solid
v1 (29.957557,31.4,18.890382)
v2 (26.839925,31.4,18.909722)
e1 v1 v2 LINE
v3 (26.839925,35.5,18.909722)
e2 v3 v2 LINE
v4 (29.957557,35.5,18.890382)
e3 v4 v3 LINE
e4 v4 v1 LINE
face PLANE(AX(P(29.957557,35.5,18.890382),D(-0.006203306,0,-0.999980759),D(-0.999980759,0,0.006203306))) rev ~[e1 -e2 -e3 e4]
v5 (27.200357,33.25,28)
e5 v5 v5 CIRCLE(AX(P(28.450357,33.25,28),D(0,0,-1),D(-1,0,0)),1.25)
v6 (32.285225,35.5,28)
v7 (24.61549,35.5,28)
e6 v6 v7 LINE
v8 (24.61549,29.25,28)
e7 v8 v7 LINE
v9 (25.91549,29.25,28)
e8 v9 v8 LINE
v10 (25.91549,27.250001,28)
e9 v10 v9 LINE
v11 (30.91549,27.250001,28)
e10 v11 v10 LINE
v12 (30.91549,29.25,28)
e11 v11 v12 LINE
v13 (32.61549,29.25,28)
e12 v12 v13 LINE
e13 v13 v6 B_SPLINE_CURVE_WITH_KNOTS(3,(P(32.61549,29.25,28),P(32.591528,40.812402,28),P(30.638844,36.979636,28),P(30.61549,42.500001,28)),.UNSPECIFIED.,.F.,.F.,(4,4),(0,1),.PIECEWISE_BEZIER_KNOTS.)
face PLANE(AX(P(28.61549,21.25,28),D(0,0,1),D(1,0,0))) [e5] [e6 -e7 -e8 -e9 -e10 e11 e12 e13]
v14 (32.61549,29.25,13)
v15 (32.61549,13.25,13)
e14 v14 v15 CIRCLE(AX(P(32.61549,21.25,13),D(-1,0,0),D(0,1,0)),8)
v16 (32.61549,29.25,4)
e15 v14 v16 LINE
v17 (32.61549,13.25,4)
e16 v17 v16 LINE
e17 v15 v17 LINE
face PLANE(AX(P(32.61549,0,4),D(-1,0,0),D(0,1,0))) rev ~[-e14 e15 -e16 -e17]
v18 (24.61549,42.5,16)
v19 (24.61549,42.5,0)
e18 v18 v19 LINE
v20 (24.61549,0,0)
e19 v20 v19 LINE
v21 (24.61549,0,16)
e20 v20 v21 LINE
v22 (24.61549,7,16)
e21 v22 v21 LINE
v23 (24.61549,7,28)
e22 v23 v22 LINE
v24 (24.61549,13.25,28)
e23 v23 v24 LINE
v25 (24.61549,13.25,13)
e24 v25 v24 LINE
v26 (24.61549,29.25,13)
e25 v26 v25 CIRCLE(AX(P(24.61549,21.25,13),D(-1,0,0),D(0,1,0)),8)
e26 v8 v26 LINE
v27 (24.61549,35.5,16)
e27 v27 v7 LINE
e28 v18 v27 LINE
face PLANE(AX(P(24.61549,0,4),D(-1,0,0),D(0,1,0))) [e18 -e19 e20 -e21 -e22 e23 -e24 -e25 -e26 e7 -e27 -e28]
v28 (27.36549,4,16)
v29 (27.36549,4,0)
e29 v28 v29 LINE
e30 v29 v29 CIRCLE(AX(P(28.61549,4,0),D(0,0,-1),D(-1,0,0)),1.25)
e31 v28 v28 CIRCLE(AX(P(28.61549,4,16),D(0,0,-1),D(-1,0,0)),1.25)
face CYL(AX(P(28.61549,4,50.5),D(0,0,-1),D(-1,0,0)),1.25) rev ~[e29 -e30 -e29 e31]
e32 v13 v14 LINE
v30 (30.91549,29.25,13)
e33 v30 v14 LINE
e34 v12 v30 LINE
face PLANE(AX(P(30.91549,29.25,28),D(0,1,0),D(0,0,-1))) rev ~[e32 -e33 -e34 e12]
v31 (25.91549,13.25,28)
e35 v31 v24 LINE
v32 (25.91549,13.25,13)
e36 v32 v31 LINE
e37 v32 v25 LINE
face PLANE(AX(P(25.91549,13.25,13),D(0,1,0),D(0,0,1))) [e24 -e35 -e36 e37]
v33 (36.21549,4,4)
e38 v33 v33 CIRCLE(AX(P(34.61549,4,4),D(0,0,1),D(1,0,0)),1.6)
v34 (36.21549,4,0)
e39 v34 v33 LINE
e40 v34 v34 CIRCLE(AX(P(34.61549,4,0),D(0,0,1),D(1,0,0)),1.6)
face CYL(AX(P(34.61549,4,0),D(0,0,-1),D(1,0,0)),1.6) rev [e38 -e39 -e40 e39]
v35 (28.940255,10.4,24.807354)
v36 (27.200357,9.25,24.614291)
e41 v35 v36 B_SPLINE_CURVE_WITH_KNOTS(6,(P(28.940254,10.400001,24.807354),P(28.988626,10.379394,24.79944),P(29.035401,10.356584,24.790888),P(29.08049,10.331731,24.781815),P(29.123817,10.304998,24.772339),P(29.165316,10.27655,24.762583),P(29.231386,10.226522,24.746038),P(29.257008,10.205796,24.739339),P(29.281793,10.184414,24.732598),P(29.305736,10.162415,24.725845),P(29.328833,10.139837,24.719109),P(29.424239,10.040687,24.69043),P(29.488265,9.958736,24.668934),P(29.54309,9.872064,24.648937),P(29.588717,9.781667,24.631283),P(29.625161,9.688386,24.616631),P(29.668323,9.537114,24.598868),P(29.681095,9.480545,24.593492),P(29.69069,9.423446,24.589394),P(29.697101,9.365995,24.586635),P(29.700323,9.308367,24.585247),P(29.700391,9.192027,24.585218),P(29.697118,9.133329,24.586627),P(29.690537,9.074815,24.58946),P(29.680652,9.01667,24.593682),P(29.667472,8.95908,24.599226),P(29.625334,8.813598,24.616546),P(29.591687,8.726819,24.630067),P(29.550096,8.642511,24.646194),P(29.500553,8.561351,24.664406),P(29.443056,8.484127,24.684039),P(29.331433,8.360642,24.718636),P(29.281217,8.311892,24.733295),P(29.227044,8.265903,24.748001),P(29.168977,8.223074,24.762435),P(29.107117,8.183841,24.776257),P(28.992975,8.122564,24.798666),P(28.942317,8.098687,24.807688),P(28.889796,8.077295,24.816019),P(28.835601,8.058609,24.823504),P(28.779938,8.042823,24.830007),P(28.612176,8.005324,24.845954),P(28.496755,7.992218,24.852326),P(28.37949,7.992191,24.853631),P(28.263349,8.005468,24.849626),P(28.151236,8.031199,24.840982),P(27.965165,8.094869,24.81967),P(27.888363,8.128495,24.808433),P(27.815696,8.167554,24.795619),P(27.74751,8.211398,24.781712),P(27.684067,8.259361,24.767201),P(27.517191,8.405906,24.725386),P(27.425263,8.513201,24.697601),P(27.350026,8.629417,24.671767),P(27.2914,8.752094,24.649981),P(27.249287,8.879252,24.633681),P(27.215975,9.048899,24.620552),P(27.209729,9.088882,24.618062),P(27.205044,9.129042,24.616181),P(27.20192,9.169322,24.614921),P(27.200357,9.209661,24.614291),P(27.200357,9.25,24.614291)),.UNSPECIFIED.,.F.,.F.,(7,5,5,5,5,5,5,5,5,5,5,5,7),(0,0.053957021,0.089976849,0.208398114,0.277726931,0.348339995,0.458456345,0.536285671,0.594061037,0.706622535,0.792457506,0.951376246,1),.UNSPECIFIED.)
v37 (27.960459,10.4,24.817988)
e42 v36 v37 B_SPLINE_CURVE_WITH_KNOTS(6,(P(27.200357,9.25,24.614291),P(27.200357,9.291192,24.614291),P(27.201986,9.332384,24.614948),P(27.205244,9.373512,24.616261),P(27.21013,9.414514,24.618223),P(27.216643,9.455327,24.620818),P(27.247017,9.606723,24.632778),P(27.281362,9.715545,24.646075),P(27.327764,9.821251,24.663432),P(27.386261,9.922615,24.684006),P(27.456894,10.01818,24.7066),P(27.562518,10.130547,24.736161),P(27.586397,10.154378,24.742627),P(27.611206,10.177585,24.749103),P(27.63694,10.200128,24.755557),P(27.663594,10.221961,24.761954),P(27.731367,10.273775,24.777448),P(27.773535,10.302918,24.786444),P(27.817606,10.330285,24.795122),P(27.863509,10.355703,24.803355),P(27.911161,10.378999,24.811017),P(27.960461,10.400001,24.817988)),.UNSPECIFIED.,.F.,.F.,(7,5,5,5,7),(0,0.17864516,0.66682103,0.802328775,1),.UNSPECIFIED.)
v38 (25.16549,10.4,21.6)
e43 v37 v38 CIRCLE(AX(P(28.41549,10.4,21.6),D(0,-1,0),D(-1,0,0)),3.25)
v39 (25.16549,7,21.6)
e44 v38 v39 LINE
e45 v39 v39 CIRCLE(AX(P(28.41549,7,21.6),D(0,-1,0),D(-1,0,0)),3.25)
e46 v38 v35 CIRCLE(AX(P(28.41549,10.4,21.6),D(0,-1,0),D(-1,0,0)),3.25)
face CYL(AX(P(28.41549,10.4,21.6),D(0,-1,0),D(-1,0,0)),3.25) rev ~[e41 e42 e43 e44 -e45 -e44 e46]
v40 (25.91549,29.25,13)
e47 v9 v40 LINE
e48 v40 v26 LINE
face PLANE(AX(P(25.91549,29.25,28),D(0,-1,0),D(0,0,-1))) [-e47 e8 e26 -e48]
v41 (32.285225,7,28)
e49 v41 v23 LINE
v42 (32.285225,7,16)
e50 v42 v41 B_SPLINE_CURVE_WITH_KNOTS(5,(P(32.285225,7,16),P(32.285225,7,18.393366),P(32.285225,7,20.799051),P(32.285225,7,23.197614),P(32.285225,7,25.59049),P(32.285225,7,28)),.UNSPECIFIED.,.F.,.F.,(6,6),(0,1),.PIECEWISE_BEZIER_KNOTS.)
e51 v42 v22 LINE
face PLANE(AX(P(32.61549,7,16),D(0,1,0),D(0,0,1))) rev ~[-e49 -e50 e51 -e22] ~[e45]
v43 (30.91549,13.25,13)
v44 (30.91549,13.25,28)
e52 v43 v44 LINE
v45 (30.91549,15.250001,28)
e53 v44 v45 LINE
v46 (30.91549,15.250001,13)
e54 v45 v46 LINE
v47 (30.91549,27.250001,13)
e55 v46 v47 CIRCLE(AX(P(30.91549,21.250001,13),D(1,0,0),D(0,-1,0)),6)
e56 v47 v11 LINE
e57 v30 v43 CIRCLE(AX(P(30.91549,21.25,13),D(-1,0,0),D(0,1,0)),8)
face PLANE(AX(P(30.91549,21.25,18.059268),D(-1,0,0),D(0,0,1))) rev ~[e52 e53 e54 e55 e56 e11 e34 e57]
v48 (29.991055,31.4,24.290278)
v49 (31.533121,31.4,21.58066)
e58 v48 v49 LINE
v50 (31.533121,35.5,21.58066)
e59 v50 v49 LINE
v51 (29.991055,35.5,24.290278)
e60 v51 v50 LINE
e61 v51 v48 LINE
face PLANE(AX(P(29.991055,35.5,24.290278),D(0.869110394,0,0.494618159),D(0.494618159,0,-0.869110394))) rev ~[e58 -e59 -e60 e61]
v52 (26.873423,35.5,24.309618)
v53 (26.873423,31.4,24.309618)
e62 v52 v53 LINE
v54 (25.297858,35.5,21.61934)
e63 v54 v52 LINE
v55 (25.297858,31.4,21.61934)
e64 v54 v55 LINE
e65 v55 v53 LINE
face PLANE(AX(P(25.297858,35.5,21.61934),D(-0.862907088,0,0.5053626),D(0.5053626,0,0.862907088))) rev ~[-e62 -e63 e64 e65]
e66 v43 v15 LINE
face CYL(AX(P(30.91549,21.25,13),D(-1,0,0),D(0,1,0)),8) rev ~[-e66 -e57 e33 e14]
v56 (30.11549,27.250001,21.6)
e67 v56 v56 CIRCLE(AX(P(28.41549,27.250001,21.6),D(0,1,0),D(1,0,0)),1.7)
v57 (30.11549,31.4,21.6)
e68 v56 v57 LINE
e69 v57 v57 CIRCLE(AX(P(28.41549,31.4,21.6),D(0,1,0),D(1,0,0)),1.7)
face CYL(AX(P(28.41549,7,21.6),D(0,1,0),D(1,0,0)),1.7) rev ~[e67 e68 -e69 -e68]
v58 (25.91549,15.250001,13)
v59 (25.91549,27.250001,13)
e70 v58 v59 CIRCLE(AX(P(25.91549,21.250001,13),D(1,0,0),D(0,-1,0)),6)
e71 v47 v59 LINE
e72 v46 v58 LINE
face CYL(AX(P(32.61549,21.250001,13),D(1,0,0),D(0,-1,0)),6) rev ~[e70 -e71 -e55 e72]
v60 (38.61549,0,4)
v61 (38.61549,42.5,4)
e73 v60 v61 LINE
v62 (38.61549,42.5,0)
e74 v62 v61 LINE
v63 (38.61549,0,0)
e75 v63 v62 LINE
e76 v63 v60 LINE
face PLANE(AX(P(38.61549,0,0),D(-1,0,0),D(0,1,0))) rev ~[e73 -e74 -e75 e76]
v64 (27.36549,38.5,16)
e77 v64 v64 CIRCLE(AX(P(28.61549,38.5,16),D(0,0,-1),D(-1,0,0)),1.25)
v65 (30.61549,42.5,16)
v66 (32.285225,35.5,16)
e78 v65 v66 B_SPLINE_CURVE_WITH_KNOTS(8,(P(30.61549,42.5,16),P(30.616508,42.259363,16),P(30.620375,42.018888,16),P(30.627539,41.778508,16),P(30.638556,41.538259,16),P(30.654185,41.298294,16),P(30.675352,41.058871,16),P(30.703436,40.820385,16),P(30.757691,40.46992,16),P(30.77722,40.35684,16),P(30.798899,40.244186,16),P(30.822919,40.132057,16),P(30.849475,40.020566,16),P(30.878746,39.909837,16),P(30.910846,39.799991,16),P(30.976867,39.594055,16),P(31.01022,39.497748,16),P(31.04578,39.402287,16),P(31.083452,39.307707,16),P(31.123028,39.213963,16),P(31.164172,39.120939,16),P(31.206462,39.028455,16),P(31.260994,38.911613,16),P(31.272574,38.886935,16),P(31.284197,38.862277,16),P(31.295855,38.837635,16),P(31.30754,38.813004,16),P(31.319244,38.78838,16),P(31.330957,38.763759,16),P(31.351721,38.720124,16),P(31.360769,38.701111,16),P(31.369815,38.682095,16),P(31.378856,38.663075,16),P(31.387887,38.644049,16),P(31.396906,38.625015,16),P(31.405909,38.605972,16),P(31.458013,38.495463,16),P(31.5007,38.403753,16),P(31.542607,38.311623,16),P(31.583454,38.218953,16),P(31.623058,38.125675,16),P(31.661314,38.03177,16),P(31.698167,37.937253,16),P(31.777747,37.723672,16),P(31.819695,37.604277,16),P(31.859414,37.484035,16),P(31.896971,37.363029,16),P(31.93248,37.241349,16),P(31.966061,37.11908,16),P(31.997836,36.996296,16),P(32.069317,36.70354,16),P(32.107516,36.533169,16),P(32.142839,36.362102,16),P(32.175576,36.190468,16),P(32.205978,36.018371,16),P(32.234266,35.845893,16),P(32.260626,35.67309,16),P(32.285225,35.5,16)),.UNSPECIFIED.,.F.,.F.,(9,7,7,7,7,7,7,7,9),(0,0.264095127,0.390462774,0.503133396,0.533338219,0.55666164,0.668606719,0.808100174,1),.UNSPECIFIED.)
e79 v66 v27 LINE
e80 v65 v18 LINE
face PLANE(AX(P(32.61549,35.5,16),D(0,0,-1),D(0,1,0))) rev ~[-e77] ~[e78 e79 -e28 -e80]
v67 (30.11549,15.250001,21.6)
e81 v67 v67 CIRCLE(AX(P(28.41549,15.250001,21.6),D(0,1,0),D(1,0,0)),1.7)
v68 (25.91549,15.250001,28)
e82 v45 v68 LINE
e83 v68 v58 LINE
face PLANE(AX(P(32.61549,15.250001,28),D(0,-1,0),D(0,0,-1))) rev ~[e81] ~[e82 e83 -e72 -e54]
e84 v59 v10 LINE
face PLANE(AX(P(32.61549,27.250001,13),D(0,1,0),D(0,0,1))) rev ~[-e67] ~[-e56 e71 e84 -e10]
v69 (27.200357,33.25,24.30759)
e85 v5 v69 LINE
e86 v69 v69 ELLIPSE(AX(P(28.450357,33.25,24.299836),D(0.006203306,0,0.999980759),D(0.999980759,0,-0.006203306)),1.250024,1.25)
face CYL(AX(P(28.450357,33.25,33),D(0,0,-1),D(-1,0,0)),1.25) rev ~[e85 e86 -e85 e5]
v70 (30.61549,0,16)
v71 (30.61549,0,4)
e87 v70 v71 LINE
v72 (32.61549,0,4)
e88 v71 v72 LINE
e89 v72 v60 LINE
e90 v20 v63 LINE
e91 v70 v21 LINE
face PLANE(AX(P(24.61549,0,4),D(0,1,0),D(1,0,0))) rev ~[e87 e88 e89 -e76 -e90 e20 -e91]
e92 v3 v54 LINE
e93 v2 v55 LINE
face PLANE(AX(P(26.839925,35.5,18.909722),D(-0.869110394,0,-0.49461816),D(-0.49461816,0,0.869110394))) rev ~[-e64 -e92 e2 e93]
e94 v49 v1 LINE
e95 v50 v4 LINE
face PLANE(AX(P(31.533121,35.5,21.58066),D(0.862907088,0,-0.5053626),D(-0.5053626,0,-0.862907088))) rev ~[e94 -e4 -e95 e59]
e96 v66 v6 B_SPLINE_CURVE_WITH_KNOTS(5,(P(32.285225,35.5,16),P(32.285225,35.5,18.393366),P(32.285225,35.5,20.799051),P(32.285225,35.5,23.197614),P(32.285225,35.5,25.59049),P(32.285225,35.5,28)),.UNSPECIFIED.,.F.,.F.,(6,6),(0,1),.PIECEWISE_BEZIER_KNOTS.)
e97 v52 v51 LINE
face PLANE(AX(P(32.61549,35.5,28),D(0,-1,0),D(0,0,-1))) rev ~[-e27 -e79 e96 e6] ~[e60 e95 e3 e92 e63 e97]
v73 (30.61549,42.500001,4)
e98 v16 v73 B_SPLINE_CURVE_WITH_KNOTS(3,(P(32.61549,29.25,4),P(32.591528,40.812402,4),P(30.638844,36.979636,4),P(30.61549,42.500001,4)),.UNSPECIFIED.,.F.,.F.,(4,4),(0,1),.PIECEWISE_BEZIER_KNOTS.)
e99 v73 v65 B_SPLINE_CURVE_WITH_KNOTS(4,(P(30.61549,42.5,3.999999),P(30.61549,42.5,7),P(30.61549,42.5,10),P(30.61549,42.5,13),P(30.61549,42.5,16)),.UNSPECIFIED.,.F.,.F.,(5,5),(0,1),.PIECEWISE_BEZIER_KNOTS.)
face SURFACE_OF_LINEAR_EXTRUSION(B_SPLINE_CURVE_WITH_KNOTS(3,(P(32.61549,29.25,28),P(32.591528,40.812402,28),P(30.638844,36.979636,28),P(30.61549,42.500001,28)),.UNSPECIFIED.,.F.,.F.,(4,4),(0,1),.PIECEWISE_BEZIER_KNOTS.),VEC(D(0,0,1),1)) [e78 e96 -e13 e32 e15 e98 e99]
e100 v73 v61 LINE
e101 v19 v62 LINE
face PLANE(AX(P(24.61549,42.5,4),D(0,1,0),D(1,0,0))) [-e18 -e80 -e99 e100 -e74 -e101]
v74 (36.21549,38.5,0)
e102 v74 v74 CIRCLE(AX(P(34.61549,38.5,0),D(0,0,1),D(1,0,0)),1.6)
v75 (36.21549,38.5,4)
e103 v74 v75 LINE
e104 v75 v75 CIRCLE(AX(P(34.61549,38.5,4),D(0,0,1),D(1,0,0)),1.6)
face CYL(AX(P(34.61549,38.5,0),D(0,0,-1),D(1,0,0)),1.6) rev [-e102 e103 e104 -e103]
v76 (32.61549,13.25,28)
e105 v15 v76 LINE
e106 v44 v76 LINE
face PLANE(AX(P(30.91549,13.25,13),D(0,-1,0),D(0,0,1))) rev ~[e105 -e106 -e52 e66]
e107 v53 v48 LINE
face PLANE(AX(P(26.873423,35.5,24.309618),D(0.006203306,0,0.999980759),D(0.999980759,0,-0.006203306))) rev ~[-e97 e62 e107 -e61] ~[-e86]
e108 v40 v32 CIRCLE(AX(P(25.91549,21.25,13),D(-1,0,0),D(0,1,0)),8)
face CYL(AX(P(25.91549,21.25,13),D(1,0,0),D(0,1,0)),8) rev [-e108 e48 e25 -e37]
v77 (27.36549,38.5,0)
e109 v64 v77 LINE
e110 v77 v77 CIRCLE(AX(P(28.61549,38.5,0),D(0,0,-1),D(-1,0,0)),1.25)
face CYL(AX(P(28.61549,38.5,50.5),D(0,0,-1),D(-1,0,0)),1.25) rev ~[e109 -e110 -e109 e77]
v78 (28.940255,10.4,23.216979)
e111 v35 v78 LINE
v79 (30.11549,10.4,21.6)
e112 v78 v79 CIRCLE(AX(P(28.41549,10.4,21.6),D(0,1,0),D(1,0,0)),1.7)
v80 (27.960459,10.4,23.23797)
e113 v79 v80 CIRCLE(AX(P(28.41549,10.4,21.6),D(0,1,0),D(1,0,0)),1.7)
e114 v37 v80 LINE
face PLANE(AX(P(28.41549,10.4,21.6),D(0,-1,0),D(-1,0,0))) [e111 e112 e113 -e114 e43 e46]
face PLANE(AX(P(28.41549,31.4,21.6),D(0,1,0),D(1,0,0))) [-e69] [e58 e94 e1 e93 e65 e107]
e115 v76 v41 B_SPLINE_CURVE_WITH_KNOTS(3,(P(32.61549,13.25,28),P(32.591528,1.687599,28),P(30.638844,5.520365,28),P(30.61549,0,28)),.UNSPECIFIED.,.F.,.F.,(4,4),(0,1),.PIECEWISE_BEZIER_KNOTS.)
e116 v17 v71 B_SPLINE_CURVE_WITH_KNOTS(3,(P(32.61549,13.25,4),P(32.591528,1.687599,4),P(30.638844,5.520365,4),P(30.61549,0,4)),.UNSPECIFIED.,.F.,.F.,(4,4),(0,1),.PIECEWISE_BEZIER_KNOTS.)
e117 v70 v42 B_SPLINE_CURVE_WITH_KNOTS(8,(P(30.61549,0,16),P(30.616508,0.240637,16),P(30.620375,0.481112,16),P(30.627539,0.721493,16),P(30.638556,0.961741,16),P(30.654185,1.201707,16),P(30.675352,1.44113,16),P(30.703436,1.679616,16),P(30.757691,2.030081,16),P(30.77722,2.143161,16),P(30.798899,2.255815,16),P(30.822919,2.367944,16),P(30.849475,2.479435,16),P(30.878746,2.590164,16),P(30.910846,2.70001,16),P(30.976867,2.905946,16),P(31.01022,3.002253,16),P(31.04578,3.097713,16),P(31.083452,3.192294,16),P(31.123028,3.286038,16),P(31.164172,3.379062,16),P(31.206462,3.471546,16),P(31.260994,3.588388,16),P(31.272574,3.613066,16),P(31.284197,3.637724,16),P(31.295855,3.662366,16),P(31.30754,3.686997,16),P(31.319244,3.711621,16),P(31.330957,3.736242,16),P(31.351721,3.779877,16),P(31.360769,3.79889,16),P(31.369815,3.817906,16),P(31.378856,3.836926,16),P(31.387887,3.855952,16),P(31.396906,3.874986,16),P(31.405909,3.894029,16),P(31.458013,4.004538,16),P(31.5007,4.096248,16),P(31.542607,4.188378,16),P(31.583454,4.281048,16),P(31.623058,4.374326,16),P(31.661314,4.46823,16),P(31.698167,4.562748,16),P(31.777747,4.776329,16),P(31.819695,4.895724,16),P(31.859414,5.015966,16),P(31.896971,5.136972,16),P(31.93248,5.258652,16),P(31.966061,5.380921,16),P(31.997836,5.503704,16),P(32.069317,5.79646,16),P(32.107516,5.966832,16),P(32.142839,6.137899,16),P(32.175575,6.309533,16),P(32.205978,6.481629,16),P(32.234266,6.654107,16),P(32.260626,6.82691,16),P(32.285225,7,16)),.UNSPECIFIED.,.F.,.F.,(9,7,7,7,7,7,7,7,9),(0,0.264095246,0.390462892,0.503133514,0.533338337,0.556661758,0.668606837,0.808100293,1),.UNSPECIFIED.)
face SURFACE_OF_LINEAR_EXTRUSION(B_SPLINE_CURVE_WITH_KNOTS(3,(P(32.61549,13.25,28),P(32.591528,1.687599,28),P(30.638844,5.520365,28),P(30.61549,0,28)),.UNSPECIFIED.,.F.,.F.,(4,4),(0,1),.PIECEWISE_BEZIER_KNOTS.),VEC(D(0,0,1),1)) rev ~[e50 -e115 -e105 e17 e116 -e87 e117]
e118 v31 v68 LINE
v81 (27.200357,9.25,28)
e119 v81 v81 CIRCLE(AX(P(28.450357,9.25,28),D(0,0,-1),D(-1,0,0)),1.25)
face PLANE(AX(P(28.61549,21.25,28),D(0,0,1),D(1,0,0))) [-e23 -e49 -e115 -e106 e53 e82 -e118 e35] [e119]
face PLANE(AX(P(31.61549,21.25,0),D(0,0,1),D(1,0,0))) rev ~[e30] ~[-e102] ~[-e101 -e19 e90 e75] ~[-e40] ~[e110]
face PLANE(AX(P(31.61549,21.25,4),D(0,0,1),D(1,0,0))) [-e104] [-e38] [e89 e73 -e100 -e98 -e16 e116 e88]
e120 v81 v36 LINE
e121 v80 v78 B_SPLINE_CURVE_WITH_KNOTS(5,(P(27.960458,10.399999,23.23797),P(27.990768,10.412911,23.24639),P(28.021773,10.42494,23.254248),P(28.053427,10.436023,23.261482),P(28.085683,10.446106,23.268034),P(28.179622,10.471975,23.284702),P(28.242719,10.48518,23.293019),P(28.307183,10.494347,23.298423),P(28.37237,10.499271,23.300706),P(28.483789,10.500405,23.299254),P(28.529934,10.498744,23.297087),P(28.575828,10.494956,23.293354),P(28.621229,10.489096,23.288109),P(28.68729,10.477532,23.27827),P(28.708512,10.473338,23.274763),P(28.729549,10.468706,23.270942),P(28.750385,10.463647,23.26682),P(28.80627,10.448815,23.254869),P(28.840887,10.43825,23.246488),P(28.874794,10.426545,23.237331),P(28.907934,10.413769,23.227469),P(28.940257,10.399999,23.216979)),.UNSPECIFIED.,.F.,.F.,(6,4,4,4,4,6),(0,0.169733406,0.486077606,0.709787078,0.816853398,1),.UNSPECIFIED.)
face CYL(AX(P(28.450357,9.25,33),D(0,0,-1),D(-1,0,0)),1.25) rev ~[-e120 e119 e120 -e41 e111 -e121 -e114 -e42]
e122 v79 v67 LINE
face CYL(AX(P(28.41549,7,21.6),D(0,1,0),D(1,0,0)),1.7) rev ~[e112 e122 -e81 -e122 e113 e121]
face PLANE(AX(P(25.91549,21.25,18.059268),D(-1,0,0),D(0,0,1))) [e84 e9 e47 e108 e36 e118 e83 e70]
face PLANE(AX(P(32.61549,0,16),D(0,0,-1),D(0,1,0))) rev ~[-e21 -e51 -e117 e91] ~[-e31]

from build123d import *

# Parameters (mm, degrees)
ESQUISSE1_W                                        = 14
ESQUISSE1_H                                        = 42.5
ESQUISSE1_R                                        = 1.6
BOSS_EXTRU_1_DEPTH                                 = 4
ESQUISSE2_W                                        = 8
ESQUISSE2_H                                        = 42.5
BOSS_EXTRU_2_DEPTH                                 = 24
ENL_V_MAT_EXTRU_1_DEPTH                            = 9
ENL_V_START                                        = -1.7
ENL_V_MAT_EXTRU_3_DEPTH                            = 1.7
ENL_V_START_2                                      = -1.3
ENL_V_MAT_EXTRU_4_DEPTH                            = 1.3
ESQUISSE6_W                                        = 12
ESQUISSE6_H                                        = 7
ENL_V_MAT_EXTRU_2_DEPTH                            = 9
CHAMBRAGE_POUR_VIS_T_TE_HEXAGONALE_M31_D           = 3.4
CHAMBRAGE_POUR_VIS_T_TE_HEXAGONALE_M31_DEPTH       = 30
CHAMBRAGE_POUR_VIS_T_TE_HEXAGONALE_M31_CBORE_D     = 6.5
CHAMBRAGE_POUR_VIS_T_TE_HEXAGONALE_M31_CBORE_DEPTH = 3.4
CHAMBRAGE_POUR_VIS_T_TE_HEXAGONALE_M31_TIP         = 1.021463052
TROU_POUR_TARAUDAGE_POUR_TROU_TARAUD_M3_D          = 2.5
TROU_POUR_TARAUDAGE_POUR_TROU_TARAUD_M3_DEPTH      = 34.5
ENL_V_MAT_EXTRU_5_DEPTH                            = 4.1
ENL_V_MAT_EXTRU_6_DEPTH                            = 24
TROU_POUR_TARAUDAGE_POUR_TROU_TARAUD_2_D           = 2.5
TROU_POUR_TARAUDAGE_POUR_TROU_TARAUD_2_DEPTH       = 5


with BuildPart() as part:
    # Esquisse1 → Boss.-Extru.1 (new body)
    with BuildSketch(Plane.XY):
        with Locations((31.615489842, 21.249999998)):
            Rectangle(ESQUISSE1_W, ESQUISSE1_H)
        with Locations((34.615489842, 3.999999998)):
            Circle(ESQUISSE1_R, mode=Mode.SUBTRACT)
        with Locations((34.615489842, 38.499999998)):
            Circle(ESQUISSE1_R, mode=Mode.SUBTRACT)
    extrude(amount=BOSS_EXTRU_1_DEPTH)

    # Esquisse2 → Boss.-Extru.2 (add)
    with BuildSketch(Plane.XY.offset(4)):
        with Locations((28.615489842, 21.249999998)):
            Rectangle(ESQUISSE2_W, ESQUISSE2_H)
    extrude(amount=BOSS_EXTRU_2_DEPTH)

    # Esquisse3 → Enlèv. mat.-Extru.1 (cut, through all)
    with BuildSketch(Plane(origin=(32.615489842, 0, 0), x_dir=(0, 0, -1), z_dir=(1, 0, 0))):
        with BuildLine():
            Line((-13, 27.250000778), (-28, 27.250000778))
            Line((-28, 27.250000778), (-28, 15.250000778))
            Line((-28, 15.250000778), (-13, 15.250000778))
            ThreePointArc((-13, 15.250000778), (-7, 21.250000778), (-13, 27.250000778))
        make_face()
    extrude(amount=-ENL_V_MAT_EXTRU_1_DEPTH, mode=Mode.SUBTRACT)

    # Esquisse7 → Enlèv. mat.-Extru.3 (cut)
    with BuildSketch(Plane(origin=(32.615489842, 0, 0), x_dir=(0, 0, -1), z_dir=(1, 0, 0)).offset(ENL_V_START)):
        with BuildLine():
            Line((-13, 13.250000429), (-28, 13.250000429))
            Line((-28, 13.250000429), (-28, 29.250000429))
            Line((-28, 29.250000429), (-13, 29.250000429))
            ThreePointArc((-13, 29.250000429), (-5, 21.250000429), (-13, 13.250000429))
        make_face()
    extrude(amount=ENL_V_MAT_EXTRU_3_DEPTH, mode=Mode.SUBTRACT)

    # Esquisse8 → Enlèv. mat.-Extru.4 (cut)
    with BuildSketch(Plane.ZY.offset(-24.615489842).offset(ENL_V_START_2)):
        with BuildLine():
            Line((13, 13.250000429), (28, 13.250000429))
            Line((28, 13.250000429), (28, 29.250000429))
            Line((28, 29.250000429), (13, 29.250000429))
            ThreePointArc((13, 29.250000429), (5, 21.250000429), (13, 13.250000429))
        make_face()
    extrude(amount=ENL_V_MAT_EXTRU_4_DEPTH, mode=Mode.SUBTRACT)

    # Esquisse6 → Enlèv. mat.-Extru.2 (cut, through all)
    with BuildSketch(Plane(origin=(32.615489842, 0, 0), x_dir=(0, 0, -1), z_dir=(1, 0, 0))):
        with Locations((-22, 38.999999998)):
            Rectangle(ESQUISSE6_W, ESQUISSE6_H)
        Polygon((-28, -2e-09), (-16, 0), (-16, 7), (-28, 7), align=None)
    extrude(amount=-ENL_V_MAT_EXTRU_2_DEPTH, mode=Mode.SUBTRACT)

    # Chambrage pour vis à tête hexagonale M31
    with Locations(Plane(origin=(0, 7, 0), x_dir=(-1, 0, 0), z_dir=(0, -1, 0))):
        with Locations((-28.415489842, -21.6)):
            CounterBoreHole(CHAMBRAGE_POUR_VIS_T_TE_HEXAGONALE_M31_D / 2, CHAMBRAGE_POUR_VIS_T_TE_HEXAGONALE_M31_CBORE_D / 2, CHAMBRAGE_POUR_VIS_T_TE_HEXAGONALE_M31_CBORE_DEPTH, depth=CHAMBRAGE_POUR_VIS_T_TE_HEXAGONALE_M31_DEPTH)
            with Locations((0, 0, -(CHAMBRAGE_POUR_VIS_T_TE_HEXAGONALE_M31_DEPTH + CHAMBRAGE_POUR_VIS_T_TE_HEXAGONALE_M31_TIP / 2))):  # 118° drill point
                Cone(0, CHAMBRAGE_POUR_VIS_T_TE_HEXAGONALE_M31_D / 2, CHAMBRAGE_POUR_VIS_T_TE_HEXAGONALE_M31_TIP, mode=Mode.SUBTRACT)

    # Trou pour taraudage pour trou taraud_ M3
    with Locations(Plane.XY.offset(16)):
        with Locations((28.615489842, 4), (28.615489842, 38.499999998)):
            Hole(TROU_POUR_TARAUDAGE_POUR_TROU_TARAUD_M3_D / 2, depth=TROU_POUR_TARAUDAGE_POUR_TROU_TARAUD_M3_DEPTH)

    # Esquisse15 → Enlèv. mat.-Extru.5 (cut)
    with BuildSketch(Plane(origin=(0, 35.499999998, 0), x_dir=(1, 0, 0), z_dir=(0, 1, 0))):
        Polygon((25.297858374, -21.619339993), (26.873423034, -24.309618047), (29.991054501, -24.290278053), (31.533121309, -21.580660007), (29.95755665, -18.890381953), (26.839925183, -18.909721947), align=None)
    extrude(amount=-ENL_V_MAT_EXTRU_5_DEPTH, mode=Mode.SUBTRACT)

    # Esquisse16 → Enlèv. mat.-Extru.6 (cut)
    with BuildSketch(Plane.XY.offset(28)):
        with BuildLine():
            Line((30.615489842, 0), (32.615489842, -2e-09))
            Line((32.615489842, -2e-09), (32.615489842, 13.250000429))
            add(Edge.make_bspline(
                [(32.615489842, 13.250000429), (32.591528482, 1.687598594), (30.638844219, 5.520365059), (30.615489842, 0)],
                knots=[0, 0, 0, 0, 1, 1, 1, 1], degree=3))
        make_face()
        with BuildLine():
            Line((30.615489842, 42.500000857), (32.615489842, 42.50000086))
            Line((32.615489842, 42.50000086), (32.615489842, 29.250000429))
            add(Edge.make_bspline(
                [(32.615489842, 29.250000429), (32.591528482, 40.812402263), (30.638844219, 36.979635798), (30.615489842, 42.500000857)],
                knots=[0, 0, 0, 0, 1, 1, 1, 1], degree=3))
        make_face()
    extrude(amount=-ENL_V_MAT_EXTRU_6_DEPTH, mode=Mode.SUBTRACT)

    # Trou pour taraudage pour trou taraud 2
    with Locations(Plane.XY.offset(28)):
        with Locations((28.450357355, 33.249999999), (28.450357355, 9.249999999)):
            Hole(TROU_POUR_TARAUDAGE_POUR_TROU_TARAUD_2_D / 2, depth=TROU_POUR_TARAUDAGE_POUR_TROU_TARAUD_2_DEPTH)


solid = part.part
